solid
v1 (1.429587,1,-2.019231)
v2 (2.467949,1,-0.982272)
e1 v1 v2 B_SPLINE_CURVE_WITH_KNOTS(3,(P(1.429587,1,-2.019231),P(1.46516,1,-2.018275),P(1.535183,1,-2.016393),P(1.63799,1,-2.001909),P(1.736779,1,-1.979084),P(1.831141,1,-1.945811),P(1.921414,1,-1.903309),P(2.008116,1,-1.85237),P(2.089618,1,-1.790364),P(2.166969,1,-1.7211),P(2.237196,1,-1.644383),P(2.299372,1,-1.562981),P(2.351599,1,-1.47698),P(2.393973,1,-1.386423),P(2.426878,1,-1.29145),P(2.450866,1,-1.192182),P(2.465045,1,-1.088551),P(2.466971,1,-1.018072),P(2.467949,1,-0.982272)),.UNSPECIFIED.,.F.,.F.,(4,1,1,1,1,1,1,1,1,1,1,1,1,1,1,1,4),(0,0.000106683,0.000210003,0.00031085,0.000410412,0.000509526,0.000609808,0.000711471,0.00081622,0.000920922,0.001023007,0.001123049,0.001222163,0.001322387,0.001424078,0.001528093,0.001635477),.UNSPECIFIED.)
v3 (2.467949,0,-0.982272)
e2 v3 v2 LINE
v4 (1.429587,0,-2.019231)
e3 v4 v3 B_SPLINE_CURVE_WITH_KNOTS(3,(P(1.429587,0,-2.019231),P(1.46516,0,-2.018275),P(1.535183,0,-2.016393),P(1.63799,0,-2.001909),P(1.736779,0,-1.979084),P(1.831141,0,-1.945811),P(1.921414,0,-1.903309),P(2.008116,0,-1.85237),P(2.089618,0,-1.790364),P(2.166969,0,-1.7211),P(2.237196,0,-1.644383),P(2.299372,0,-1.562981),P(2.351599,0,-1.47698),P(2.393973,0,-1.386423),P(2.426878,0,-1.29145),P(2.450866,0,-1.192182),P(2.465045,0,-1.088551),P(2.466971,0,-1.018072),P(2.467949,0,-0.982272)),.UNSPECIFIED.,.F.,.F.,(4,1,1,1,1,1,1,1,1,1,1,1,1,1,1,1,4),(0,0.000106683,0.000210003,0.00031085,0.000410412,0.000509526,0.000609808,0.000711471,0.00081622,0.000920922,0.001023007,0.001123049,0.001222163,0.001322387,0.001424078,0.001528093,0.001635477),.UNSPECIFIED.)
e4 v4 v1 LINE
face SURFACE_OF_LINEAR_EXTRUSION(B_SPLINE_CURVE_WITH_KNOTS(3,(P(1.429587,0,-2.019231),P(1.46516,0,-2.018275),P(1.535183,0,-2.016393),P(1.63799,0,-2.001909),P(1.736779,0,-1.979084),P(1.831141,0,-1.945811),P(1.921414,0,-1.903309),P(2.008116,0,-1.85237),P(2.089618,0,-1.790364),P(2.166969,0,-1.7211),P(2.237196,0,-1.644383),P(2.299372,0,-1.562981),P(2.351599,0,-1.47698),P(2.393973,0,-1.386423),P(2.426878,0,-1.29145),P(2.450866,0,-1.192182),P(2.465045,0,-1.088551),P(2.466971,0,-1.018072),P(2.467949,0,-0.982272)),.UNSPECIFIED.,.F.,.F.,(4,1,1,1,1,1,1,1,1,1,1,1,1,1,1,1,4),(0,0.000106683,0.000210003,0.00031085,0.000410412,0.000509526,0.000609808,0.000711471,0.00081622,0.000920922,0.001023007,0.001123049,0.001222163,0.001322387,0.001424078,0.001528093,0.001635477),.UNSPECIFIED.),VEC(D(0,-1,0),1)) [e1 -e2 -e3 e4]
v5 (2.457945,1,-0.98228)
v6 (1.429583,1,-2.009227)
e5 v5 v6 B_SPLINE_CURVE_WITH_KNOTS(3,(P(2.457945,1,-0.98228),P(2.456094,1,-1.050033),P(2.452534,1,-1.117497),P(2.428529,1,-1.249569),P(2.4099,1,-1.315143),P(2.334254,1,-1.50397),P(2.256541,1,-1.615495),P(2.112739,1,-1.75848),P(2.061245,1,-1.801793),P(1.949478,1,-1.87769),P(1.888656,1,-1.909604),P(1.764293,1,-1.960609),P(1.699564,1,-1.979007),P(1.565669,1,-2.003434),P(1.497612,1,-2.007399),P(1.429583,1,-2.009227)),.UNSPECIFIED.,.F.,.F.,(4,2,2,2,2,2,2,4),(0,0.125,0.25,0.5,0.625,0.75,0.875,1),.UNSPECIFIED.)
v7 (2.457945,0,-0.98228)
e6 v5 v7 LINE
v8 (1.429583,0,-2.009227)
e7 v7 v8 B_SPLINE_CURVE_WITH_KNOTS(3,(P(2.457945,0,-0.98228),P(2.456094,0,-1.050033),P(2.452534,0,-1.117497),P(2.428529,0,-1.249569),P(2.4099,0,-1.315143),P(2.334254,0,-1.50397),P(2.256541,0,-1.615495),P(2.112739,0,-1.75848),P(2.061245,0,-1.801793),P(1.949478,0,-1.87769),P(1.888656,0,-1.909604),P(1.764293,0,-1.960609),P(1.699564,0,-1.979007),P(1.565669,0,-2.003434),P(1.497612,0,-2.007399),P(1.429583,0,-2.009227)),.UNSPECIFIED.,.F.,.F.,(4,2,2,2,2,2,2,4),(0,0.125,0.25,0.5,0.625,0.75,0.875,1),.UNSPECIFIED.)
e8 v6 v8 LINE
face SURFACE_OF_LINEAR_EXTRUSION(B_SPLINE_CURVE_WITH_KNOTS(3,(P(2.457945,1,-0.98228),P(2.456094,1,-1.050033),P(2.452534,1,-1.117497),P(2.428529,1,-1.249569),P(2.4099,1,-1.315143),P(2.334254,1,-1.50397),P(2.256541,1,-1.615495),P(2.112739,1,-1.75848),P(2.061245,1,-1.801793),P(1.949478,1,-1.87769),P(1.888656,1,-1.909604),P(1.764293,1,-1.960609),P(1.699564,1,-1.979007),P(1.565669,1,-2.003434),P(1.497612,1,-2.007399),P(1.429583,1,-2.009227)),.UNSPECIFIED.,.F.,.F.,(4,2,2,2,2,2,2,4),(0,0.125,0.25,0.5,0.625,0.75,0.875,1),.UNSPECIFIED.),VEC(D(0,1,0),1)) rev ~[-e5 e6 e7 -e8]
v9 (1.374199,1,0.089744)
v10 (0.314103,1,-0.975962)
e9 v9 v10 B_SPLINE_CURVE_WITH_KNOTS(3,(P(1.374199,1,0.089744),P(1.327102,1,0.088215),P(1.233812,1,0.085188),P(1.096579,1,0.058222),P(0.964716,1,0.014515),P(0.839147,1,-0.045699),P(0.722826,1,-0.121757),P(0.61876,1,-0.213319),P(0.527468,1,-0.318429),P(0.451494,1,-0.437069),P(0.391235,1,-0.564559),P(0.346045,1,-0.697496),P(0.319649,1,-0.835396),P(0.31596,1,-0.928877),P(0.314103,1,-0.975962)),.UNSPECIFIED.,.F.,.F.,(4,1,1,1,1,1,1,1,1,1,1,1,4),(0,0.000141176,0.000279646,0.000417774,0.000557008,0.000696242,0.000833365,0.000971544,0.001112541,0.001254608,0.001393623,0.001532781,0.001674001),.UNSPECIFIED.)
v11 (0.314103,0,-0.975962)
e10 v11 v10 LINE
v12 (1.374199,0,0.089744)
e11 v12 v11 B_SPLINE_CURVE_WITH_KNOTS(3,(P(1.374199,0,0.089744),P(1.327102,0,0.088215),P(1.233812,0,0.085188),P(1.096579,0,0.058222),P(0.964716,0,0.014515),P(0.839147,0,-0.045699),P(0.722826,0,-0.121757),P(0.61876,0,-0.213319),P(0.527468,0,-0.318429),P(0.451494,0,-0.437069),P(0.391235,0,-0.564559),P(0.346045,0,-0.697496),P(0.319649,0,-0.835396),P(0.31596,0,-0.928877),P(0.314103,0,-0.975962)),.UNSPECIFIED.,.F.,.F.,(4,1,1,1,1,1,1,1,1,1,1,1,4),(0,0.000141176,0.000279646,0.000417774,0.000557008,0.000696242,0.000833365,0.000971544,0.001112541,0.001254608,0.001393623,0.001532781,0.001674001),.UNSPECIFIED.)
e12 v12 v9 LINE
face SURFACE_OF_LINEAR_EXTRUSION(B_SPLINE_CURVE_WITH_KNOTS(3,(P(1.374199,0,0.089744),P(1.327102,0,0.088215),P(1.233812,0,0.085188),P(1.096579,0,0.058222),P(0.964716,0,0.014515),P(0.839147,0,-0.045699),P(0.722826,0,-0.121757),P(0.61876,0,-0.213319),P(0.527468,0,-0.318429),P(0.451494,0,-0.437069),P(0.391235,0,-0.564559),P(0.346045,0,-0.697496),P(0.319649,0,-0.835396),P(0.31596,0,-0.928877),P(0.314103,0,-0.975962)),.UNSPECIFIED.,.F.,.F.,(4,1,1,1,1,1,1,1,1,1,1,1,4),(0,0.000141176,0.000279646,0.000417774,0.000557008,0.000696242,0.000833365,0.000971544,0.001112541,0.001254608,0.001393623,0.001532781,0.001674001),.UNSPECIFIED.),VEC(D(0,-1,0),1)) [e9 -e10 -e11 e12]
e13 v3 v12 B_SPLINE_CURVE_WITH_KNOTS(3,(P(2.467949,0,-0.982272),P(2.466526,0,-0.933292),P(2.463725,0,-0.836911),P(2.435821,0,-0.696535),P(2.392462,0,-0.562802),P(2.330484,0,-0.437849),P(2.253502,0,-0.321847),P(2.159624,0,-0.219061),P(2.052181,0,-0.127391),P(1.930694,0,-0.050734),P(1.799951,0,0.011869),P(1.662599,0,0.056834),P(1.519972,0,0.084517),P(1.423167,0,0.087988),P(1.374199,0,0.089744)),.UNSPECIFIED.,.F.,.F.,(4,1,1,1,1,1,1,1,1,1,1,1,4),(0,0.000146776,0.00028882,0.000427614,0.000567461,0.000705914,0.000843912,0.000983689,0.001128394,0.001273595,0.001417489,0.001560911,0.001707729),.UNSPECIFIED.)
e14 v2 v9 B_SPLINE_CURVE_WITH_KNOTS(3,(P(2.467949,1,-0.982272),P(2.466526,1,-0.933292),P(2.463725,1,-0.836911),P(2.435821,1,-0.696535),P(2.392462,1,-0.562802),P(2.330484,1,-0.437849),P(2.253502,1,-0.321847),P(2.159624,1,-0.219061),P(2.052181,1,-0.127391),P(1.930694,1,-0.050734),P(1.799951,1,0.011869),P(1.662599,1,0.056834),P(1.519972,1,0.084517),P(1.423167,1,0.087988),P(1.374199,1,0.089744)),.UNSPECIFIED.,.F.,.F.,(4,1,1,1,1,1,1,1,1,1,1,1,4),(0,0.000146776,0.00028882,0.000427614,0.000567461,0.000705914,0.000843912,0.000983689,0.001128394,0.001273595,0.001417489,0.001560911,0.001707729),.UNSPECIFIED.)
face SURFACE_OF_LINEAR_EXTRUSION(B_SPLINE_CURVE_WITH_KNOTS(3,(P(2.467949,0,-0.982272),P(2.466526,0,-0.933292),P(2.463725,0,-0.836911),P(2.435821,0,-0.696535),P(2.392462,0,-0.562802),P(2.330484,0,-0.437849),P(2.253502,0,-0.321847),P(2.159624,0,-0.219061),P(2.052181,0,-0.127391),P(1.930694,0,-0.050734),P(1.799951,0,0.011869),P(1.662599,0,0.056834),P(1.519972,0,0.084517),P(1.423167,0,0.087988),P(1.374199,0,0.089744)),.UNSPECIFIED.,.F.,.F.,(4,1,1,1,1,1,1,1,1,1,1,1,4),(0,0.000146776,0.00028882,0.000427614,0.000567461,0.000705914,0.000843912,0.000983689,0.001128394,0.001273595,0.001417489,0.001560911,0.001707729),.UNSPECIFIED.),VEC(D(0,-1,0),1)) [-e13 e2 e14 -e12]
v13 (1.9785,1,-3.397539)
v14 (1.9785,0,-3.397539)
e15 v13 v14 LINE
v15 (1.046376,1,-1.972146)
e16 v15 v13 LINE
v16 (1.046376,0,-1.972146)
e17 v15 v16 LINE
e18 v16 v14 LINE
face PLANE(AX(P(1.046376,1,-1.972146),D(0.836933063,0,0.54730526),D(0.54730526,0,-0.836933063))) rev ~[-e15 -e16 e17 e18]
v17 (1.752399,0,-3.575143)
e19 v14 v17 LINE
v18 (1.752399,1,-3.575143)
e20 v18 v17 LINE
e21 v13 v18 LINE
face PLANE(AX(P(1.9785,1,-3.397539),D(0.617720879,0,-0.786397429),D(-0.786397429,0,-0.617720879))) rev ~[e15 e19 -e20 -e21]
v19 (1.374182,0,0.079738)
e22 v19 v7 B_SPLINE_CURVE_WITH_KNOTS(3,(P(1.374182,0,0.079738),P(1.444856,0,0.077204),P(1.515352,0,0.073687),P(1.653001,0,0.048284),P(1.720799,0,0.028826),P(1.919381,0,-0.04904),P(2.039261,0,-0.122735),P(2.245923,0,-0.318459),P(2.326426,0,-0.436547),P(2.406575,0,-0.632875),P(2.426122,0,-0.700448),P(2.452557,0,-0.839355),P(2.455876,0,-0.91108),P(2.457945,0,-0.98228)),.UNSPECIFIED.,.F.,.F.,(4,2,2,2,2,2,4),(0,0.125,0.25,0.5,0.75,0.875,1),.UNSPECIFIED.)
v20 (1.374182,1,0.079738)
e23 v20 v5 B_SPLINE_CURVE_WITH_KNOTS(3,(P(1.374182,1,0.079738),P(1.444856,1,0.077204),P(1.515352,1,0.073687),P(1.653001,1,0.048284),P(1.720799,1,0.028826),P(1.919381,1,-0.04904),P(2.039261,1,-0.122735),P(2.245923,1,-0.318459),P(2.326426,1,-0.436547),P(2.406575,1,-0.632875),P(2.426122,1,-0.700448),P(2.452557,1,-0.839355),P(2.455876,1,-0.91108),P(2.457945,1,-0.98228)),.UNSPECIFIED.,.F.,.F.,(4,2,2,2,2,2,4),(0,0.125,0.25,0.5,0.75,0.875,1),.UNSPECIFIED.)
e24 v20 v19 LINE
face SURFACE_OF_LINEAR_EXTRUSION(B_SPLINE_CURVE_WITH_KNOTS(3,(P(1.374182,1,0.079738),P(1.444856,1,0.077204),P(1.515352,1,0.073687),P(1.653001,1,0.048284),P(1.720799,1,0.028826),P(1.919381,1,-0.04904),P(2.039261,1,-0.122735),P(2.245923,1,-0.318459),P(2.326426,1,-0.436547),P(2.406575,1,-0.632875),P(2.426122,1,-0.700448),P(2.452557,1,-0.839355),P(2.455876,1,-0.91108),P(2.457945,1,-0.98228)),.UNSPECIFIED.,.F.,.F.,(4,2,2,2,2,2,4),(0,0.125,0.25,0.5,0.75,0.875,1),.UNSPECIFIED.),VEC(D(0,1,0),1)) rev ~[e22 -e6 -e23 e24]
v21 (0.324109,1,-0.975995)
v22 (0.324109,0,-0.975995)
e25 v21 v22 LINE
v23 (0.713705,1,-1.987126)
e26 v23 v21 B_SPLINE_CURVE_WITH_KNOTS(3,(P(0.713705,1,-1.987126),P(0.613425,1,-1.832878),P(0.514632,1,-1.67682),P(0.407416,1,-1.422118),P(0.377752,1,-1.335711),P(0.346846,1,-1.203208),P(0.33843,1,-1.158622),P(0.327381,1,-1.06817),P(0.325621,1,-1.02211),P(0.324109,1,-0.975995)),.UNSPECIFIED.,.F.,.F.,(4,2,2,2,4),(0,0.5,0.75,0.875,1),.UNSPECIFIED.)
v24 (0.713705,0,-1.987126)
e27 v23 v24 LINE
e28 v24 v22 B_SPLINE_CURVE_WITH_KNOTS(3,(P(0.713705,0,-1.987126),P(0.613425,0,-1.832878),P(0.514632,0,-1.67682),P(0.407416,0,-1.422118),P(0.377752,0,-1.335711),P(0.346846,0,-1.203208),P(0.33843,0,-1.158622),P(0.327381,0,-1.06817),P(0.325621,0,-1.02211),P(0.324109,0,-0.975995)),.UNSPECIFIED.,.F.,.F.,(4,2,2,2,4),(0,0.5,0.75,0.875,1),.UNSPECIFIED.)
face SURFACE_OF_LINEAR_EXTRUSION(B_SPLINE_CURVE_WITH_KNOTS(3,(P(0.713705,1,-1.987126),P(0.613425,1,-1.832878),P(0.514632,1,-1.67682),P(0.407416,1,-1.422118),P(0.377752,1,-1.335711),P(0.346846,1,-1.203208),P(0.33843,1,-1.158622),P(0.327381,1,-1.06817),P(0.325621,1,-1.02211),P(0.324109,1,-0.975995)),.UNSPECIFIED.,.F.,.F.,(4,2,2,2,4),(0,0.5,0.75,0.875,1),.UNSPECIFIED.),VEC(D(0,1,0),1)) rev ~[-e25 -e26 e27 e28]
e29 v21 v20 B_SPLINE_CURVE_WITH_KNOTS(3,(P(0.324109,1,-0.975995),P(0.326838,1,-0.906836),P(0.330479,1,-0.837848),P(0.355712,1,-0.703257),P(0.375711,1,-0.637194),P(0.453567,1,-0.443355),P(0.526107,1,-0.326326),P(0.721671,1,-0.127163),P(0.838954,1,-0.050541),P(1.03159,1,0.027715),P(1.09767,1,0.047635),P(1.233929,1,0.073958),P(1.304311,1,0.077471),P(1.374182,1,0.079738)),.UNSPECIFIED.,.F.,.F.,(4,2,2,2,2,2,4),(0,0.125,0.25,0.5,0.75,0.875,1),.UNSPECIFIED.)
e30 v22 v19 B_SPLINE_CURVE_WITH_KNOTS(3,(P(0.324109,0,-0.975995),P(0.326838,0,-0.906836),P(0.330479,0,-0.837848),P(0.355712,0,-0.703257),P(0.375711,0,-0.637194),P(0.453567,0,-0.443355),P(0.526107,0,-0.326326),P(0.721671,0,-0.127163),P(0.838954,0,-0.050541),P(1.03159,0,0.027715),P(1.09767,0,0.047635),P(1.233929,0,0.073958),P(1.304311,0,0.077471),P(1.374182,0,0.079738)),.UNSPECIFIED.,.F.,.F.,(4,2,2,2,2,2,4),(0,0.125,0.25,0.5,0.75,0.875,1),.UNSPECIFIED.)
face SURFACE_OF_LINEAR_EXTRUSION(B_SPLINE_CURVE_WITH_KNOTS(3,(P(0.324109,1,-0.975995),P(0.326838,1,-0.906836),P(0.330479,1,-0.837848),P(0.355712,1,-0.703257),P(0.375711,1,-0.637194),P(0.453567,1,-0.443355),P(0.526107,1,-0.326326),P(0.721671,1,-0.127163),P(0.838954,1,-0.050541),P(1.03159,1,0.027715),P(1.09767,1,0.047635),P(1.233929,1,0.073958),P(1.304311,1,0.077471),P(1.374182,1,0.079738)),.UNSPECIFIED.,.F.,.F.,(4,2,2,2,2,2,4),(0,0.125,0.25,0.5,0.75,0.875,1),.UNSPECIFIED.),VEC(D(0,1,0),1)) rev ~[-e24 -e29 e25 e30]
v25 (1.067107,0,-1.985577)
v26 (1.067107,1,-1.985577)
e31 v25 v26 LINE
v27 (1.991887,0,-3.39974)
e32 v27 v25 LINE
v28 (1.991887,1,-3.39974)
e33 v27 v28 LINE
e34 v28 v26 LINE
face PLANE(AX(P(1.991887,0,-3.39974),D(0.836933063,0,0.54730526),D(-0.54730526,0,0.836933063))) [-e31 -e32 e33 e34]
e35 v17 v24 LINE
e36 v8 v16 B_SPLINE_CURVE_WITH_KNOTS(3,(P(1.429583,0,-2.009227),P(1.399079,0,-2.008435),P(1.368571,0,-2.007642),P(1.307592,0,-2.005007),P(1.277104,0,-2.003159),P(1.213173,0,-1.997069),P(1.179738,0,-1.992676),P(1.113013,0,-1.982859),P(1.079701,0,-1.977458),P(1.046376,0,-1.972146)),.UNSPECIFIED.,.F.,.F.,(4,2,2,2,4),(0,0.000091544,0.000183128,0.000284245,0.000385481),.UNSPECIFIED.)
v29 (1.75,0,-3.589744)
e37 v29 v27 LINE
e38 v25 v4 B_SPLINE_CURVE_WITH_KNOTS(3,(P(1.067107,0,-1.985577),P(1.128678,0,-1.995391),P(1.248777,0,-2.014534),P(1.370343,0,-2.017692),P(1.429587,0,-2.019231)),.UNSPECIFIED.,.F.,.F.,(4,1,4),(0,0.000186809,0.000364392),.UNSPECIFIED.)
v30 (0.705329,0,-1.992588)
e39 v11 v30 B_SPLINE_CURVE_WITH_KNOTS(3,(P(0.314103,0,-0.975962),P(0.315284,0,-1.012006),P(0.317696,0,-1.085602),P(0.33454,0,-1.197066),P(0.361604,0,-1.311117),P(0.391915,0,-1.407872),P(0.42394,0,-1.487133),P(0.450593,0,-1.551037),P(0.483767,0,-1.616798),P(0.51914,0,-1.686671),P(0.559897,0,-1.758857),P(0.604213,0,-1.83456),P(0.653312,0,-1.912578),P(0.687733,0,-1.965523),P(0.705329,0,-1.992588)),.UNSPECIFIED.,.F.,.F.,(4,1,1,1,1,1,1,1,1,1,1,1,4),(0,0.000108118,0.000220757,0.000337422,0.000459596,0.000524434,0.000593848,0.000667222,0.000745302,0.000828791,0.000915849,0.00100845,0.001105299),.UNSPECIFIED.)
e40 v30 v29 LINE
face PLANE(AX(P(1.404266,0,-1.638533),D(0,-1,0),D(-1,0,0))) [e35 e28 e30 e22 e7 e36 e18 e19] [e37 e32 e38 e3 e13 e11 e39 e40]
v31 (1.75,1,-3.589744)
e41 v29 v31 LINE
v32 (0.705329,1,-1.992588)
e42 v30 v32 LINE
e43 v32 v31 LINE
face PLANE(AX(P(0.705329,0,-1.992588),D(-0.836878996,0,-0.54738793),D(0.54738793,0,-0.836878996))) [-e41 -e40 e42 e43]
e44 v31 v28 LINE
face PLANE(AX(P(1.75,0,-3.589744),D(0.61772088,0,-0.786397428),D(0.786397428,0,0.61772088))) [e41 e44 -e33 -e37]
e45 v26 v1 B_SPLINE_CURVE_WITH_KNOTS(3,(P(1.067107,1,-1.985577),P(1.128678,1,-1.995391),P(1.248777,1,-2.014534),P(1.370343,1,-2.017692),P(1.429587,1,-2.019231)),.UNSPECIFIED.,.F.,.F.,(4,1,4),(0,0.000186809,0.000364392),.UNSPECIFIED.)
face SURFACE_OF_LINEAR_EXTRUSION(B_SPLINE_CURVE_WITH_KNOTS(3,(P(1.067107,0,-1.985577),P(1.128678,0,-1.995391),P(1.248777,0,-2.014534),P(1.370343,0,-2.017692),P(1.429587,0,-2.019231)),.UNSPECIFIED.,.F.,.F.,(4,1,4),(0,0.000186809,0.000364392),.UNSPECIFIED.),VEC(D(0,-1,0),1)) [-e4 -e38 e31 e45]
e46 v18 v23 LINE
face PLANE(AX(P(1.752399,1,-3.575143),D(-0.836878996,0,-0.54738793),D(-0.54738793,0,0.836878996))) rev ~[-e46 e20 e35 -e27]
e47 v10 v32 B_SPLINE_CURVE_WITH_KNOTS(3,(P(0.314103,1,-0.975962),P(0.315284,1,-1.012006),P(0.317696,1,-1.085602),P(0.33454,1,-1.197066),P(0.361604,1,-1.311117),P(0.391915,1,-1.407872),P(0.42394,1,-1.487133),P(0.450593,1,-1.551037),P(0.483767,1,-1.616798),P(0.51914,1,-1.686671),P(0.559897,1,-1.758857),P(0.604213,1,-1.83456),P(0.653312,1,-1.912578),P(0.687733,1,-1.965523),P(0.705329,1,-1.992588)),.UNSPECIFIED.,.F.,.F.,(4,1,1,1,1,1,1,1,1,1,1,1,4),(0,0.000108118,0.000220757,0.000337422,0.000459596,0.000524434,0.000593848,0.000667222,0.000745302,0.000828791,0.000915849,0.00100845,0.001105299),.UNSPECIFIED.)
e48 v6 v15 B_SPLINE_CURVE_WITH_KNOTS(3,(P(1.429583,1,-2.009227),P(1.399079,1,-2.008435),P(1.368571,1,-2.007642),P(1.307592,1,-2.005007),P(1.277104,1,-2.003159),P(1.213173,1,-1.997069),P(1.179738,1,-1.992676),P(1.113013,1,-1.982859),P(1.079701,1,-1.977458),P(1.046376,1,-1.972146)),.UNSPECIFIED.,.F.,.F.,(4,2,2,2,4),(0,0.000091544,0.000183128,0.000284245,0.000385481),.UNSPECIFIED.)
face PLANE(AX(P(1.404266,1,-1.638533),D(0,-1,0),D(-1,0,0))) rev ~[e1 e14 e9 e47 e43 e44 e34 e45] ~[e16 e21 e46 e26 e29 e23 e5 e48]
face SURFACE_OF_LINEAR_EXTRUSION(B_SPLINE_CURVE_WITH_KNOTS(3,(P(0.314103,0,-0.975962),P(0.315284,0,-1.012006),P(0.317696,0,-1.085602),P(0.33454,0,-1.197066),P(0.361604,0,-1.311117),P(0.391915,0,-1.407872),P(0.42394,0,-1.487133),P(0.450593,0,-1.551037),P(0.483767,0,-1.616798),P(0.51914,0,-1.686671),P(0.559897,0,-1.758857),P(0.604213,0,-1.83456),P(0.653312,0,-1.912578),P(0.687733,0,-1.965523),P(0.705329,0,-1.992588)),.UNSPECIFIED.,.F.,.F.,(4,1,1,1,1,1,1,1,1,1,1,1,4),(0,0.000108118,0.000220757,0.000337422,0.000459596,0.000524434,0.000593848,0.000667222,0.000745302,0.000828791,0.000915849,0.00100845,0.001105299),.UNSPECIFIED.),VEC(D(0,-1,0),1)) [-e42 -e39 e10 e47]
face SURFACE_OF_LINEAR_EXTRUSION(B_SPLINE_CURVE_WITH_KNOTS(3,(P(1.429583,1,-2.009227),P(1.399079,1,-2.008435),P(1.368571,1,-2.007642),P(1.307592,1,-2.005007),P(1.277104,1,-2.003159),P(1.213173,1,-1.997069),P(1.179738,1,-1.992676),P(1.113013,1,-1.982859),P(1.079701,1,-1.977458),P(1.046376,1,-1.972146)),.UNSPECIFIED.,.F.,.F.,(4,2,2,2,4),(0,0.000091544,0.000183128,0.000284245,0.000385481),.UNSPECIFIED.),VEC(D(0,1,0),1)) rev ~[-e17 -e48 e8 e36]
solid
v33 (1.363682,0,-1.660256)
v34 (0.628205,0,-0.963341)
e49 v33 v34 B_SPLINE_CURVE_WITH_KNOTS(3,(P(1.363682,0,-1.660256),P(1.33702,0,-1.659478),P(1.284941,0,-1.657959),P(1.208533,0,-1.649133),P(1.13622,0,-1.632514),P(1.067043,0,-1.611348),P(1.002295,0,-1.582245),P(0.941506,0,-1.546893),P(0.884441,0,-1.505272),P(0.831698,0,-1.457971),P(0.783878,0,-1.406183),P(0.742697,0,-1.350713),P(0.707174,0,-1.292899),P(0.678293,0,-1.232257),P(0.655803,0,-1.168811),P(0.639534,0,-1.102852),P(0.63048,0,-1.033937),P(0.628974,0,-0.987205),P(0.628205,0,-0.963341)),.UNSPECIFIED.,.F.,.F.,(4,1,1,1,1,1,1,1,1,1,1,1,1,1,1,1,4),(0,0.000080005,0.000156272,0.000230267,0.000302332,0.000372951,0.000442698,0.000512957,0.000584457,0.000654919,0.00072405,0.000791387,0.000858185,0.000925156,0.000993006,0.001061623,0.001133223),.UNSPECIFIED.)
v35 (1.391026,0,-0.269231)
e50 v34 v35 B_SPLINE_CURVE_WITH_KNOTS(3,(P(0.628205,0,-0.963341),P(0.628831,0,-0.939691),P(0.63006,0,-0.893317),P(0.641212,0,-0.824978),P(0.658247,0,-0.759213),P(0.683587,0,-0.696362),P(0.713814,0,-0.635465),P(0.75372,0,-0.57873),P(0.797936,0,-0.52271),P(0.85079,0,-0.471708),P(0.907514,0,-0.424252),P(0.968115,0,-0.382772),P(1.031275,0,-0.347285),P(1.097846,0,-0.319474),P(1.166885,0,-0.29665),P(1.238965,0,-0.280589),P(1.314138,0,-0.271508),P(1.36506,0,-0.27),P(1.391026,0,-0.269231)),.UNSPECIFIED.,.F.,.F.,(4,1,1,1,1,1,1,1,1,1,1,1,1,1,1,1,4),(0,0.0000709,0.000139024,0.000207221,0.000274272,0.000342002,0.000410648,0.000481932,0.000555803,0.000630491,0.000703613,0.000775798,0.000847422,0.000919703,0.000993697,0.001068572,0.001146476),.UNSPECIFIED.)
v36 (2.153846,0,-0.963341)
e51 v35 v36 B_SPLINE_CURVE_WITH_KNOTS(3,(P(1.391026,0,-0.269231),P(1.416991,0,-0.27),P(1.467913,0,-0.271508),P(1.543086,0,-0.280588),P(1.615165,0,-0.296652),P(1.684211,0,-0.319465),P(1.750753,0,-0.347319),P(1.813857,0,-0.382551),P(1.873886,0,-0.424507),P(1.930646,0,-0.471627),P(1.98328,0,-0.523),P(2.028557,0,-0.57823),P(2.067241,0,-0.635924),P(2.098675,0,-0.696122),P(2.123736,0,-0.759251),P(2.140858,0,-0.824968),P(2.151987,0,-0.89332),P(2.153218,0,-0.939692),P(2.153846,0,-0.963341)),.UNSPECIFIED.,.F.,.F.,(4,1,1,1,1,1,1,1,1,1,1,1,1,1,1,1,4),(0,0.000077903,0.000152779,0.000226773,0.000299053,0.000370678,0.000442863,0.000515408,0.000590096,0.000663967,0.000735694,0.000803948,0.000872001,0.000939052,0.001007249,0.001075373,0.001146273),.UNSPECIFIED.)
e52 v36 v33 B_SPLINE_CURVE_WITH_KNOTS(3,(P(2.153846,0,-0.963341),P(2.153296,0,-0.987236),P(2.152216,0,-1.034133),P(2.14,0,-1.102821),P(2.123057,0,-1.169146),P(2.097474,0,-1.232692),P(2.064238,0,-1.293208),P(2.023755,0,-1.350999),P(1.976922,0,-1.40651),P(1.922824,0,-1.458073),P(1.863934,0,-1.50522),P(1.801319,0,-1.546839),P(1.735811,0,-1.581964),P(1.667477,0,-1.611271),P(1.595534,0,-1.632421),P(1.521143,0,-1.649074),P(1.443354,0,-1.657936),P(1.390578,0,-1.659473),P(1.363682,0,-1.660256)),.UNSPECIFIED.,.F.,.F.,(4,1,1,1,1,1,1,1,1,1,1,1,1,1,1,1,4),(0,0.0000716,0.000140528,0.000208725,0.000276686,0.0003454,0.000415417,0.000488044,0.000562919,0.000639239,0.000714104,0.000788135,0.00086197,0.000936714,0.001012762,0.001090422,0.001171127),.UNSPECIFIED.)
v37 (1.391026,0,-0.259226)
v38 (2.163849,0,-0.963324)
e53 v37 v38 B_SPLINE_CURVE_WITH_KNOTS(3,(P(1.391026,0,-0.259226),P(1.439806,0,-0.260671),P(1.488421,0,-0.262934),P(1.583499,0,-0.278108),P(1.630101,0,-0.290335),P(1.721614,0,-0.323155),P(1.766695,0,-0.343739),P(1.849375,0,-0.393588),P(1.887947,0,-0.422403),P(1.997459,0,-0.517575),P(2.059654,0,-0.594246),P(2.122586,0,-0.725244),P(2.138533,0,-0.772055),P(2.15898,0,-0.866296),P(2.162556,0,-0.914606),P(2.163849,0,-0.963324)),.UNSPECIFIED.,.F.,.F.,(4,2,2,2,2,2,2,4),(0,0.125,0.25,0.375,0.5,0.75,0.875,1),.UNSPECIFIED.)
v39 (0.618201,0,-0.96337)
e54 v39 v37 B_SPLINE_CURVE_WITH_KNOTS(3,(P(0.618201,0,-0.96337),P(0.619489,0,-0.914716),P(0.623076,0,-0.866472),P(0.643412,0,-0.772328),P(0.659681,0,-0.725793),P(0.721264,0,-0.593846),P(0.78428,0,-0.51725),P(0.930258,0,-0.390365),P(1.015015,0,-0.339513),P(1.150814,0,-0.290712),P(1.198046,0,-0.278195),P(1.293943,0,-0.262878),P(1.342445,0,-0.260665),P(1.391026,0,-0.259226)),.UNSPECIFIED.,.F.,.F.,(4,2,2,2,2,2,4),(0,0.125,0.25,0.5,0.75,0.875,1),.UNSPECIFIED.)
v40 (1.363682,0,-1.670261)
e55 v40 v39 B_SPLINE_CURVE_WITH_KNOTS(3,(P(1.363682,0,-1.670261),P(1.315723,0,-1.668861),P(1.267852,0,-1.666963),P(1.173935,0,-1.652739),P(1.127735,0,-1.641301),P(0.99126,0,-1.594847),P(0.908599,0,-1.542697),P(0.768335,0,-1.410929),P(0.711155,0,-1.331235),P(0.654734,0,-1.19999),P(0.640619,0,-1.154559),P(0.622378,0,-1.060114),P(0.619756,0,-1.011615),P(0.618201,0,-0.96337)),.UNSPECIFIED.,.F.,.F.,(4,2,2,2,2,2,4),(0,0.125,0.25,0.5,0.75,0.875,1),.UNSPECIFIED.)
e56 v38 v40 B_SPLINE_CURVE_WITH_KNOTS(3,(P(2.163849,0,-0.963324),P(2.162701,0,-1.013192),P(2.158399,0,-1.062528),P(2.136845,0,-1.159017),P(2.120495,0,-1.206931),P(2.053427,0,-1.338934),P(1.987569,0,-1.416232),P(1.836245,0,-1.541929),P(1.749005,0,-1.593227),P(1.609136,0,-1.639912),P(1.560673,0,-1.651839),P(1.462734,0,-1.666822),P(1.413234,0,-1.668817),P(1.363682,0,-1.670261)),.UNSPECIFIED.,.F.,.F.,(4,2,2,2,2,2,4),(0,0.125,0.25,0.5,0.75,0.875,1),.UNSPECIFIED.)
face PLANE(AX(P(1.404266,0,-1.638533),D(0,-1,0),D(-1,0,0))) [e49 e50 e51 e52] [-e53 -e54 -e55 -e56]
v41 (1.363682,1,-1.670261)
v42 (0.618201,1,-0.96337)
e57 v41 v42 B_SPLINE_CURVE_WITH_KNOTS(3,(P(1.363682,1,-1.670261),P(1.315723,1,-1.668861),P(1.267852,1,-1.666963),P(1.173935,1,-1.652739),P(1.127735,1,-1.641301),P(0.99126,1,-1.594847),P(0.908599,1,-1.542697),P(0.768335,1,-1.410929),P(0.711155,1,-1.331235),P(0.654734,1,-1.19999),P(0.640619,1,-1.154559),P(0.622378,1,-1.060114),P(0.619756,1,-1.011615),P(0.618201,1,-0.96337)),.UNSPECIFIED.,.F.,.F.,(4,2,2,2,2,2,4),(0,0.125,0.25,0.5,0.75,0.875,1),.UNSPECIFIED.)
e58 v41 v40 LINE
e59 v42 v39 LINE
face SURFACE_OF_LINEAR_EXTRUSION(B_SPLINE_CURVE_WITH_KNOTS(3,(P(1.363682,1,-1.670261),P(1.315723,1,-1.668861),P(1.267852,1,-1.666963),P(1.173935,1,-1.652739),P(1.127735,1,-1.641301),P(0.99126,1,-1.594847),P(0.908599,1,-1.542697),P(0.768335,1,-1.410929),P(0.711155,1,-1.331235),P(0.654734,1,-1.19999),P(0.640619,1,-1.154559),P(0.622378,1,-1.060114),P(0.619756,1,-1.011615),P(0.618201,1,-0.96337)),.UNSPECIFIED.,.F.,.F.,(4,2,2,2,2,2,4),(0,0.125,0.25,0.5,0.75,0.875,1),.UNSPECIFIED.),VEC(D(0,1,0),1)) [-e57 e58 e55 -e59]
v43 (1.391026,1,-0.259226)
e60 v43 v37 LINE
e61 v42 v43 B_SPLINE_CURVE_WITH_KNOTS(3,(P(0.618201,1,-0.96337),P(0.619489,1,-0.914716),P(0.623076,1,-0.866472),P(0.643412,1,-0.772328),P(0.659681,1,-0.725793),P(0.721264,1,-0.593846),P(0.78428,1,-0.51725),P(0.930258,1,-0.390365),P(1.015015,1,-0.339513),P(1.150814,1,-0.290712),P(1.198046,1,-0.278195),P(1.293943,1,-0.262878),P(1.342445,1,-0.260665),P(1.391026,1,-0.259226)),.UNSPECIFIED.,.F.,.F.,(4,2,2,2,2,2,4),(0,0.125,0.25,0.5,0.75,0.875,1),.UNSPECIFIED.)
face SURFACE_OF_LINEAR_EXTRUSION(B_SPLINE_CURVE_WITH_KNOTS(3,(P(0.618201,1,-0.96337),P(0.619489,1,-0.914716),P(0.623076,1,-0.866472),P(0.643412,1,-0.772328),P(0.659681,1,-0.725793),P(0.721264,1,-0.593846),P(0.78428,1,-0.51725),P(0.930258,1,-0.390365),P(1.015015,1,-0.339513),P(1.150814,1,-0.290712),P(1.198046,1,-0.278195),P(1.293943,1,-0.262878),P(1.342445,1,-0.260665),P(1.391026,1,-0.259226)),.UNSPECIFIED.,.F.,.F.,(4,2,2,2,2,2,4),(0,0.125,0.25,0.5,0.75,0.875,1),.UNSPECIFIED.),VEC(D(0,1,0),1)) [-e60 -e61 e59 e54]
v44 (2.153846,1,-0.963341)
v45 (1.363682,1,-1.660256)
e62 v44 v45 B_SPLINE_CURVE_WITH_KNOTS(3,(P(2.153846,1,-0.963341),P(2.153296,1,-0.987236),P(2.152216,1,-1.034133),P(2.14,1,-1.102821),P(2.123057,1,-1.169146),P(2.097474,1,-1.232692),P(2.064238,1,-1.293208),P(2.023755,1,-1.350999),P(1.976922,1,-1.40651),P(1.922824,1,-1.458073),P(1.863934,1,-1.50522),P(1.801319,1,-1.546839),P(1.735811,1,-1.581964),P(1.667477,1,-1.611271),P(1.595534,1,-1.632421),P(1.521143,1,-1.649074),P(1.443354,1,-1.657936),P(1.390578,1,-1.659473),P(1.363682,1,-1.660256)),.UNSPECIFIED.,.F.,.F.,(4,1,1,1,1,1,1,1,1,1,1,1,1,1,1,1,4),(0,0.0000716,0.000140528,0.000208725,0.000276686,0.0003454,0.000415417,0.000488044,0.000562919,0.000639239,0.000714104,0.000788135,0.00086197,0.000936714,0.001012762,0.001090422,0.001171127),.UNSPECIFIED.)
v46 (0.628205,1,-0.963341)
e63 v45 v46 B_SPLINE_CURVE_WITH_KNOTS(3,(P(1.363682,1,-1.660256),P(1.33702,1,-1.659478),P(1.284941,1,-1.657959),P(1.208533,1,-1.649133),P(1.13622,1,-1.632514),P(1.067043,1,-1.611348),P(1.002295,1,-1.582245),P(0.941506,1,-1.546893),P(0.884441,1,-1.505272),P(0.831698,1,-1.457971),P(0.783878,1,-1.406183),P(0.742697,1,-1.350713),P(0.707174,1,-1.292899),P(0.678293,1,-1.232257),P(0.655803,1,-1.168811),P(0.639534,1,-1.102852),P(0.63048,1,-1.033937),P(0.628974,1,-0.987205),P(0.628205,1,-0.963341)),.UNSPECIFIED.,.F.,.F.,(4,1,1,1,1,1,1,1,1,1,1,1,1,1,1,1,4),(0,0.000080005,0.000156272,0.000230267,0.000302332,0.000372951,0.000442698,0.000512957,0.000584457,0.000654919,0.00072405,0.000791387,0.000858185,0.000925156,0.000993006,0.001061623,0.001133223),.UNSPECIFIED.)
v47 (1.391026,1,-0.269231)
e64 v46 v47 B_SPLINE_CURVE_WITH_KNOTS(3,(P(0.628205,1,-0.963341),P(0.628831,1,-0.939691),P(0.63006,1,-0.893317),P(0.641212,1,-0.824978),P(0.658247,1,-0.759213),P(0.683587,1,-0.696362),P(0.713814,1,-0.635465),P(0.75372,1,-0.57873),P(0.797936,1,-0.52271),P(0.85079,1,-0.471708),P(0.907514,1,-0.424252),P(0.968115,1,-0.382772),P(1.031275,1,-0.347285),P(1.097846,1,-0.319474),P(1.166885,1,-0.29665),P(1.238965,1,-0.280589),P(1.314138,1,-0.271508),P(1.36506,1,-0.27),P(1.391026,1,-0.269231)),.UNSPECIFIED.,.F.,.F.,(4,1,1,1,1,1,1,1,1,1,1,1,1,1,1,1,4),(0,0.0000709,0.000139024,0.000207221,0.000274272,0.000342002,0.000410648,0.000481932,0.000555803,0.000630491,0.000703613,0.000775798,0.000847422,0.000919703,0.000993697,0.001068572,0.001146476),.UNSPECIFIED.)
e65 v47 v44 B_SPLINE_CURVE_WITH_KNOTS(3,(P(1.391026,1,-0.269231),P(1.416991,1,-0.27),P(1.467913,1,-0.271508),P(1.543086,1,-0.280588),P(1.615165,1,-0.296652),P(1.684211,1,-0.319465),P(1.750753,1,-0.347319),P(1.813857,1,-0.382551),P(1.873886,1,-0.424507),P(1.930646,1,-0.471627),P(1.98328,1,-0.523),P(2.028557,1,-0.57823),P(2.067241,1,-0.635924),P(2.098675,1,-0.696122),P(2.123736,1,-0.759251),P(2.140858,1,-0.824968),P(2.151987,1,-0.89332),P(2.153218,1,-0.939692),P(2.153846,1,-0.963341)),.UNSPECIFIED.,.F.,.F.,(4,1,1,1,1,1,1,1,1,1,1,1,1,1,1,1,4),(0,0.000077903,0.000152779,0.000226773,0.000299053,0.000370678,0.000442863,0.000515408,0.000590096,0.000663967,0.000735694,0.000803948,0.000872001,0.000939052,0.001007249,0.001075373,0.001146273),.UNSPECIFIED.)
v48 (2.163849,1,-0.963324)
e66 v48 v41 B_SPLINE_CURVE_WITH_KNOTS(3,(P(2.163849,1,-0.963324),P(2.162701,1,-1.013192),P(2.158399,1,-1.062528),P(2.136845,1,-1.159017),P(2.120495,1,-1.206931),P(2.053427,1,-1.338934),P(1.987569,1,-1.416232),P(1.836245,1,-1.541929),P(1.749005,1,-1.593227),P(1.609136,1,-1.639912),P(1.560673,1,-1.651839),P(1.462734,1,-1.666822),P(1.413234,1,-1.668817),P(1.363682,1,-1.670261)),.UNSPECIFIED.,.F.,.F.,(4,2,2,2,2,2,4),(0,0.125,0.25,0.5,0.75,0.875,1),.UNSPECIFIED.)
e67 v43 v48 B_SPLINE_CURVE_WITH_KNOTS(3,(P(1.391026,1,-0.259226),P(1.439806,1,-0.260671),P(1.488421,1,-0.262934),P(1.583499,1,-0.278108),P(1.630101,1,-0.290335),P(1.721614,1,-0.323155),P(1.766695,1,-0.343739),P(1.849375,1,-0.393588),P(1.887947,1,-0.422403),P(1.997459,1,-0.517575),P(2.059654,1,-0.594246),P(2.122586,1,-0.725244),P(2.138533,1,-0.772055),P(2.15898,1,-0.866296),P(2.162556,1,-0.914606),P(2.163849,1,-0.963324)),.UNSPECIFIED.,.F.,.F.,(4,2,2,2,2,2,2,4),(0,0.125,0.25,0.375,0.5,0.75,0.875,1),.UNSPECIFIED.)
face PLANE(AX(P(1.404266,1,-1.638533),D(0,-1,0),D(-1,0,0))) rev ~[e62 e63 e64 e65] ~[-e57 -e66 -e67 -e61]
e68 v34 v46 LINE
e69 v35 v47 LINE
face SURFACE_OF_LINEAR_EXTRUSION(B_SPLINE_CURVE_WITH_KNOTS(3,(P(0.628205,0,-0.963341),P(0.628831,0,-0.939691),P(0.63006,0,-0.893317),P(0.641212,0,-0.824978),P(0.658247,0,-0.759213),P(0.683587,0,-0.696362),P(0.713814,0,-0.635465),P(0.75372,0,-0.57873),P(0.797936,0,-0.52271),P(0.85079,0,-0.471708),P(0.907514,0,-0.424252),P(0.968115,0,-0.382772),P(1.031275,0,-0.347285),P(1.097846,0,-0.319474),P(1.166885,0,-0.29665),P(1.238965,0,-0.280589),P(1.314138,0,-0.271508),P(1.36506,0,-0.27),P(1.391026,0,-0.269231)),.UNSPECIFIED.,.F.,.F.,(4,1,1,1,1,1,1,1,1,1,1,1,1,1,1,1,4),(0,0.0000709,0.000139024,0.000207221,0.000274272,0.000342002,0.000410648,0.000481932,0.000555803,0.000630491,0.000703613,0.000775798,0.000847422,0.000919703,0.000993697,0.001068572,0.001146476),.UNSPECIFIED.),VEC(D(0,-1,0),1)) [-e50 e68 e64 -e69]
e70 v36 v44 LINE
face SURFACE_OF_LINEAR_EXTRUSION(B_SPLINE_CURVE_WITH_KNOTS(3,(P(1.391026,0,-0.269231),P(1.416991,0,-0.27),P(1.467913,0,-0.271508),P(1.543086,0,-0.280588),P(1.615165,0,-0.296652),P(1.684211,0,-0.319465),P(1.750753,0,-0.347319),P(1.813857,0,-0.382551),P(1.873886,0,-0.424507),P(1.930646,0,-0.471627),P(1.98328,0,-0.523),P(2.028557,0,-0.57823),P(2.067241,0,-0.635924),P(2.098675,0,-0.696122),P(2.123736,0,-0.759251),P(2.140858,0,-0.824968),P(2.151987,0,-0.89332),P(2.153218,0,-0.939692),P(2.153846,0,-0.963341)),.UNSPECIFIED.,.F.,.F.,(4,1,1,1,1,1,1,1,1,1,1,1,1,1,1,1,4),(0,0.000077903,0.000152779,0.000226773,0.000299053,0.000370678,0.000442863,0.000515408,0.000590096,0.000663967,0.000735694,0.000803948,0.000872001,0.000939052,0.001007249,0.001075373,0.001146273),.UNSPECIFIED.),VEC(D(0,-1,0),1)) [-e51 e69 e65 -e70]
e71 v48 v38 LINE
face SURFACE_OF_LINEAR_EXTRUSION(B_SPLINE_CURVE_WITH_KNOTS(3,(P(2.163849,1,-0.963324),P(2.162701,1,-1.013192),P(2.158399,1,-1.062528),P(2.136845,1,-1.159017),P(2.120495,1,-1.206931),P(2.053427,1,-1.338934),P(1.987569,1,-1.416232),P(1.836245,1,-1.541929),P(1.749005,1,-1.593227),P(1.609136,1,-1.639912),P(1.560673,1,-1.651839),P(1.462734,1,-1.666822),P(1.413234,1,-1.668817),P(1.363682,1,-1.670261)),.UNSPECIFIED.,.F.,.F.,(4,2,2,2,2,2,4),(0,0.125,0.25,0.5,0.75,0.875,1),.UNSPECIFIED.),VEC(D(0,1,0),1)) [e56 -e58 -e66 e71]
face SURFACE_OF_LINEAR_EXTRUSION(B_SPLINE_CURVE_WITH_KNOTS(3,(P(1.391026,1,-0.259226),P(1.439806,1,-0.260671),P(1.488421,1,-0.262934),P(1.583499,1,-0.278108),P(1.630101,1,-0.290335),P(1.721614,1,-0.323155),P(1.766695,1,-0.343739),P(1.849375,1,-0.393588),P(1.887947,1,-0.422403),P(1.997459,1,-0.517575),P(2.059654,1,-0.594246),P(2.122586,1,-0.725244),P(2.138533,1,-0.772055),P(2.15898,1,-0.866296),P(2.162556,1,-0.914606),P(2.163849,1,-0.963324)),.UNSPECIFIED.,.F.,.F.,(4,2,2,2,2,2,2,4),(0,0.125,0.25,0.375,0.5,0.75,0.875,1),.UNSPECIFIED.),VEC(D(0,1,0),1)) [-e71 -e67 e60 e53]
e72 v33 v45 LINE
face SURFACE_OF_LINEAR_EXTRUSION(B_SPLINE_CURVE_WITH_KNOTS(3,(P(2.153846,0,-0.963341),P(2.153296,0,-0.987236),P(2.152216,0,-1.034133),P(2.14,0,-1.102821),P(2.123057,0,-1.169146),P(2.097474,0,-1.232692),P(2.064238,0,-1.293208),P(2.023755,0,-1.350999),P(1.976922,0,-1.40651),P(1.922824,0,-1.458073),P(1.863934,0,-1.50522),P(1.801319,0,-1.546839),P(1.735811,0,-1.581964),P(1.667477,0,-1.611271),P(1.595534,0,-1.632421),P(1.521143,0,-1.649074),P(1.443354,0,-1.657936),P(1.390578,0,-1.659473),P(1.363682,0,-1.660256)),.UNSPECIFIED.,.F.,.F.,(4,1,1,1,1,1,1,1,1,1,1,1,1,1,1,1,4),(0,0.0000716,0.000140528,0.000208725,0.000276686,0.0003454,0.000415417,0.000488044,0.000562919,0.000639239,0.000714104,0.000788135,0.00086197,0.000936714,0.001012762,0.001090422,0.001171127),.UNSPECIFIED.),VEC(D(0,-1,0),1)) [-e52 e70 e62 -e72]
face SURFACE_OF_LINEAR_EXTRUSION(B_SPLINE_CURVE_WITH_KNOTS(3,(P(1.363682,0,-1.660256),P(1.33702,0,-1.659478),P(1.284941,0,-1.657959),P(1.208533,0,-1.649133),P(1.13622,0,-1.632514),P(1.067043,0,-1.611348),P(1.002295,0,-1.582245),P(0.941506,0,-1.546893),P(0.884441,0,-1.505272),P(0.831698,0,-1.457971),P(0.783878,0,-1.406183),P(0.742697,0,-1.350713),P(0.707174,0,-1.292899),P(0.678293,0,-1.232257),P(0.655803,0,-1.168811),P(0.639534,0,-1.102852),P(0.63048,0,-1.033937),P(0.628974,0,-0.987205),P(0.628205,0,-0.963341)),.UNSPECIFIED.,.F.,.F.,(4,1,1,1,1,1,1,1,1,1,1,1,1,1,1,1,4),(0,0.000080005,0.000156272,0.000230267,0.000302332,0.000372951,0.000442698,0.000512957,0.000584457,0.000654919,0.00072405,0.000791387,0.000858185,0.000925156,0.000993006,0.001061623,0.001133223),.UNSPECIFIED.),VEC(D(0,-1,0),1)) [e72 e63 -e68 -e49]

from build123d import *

# Parameters (mm, degrees)
BOSS_EXTRUDE1_DEPTH = 1
CUT_EXTRUDE1_DEPTH  = 1


with BuildPart() as part:
    # Sketch1 → Boss-Extrude1 (new body)
    with BuildSketch(Plane(origin=(0, 0, 0), x_dir=(1, 0, 0), z_dir=(0, 1, 0))):
        with BuildLine():
            Line((1.75, 3.58974359), (1.991887019, 3.399739583))
            Line((1.991887019, 3.399739583), (1.067107372, 1.985576923))
            add(Edge.make_bspline(
                [(1.067107372, 1.985576923), (1.128677649, 1.995390784), (1.248777436, 2.014533829), (1.370343334, 2.017691774), (1.42958734, 2.019230769)],
                knots=[0, 0, 0, 0, 0.000186809, 0.000364392, 0.000364392, 0.000364392, 0.000364392], degree=3))
            add(Edge.make_bspline(
                [(1.42958734, 2.019230769), (1.465159836, 2.018274658), (1.535183237, 2.01639258), (1.637990039, 2.001908729), (1.736778975, 1.979083617), (1.831140587, 1.945811362), (1.921413569, 1.903309007), (2.008115965, 1.852370137), (2.089617975, 1.790364457), (2.166969154, 1.721099501), (2.237196252, 1.644382516), (2.299372307, 1.56298118), (2.351599099, 1.476980299), (2.393973021, 1.386423433), (2.426877899, 1.291450173), (2.450865544, 1.192182034), (2.465045137, 1.088550562), (2.466970628, 1.018072387), (2.467948718, 0.982271635)],
                knots=[0, 0, 0, 0, 0.000106683, 0.000210003, 0.00031085, 0.000410412, 0.000509526, 0.000609808, 0.000711471, 0.00081622, 0.000920922, 0.001023007, 0.001123049, 0.001222163, 0.001322387, 0.001424078, 0.001528093, 0.001635477, 0.001635477, 0.001635477, 0.001635477], degree=3))
            add(Edge.make_bspline(
                [(2.467948718, 0.982271635), (2.466525613, 0.933291931), (2.463725279, 0.836911465), (2.435821483, 0.696534758), (2.392461839, 0.562802243), (2.33048431, 0.437849071), (2.253501927, 0.321846502), (2.159624335, 0.219061036), (2.052180846, 0.127390999), (1.930694048, 0.05073438), (1.799951084, -0.011868671), (1.662599087, -0.056833913), (1.51997194, -0.084517383), (1.423167332, -0.087987985), (1.374198718, -0.08974359)],
                knots=[0, 0, 0, 0, 0.000146776, 0.00028882, 0.000427614, 0.000567461, 0.000705914, 0.000843912, 0.000983689, 0.001128394, 0.001273595, 0.001417489, 0.001560911, 0.001707729, 0.001707729, 0.001707729, 0.001707729], degree=3))
            add(Edge.make_bspline(
                [(1.374198718, -0.08974359), (1.327102017, -0.088215384), (1.233811699, -0.085188276), (1.096578905, -0.058222338), (0.964715888, -0.014515235), (0.839146507, 0.045699043), (0.722825894, 0.121756926), (0.618760257, 0.213319205), (0.527468483, 0.31842867), (0.451493862, 0.437069018), (0.39123513, 0.564558975), (0.346045205, 0.697496132), (0.319648962, 0.835396113), (0.315960405, 0.928877252), (0.314102564, 0.975961538)],
                knots=[0, 0, 0, 0, 0.000141176, 0.000279646, 0.000417774, 0.000557008, 0.000696242, 0.000833365, 0.000971544, 0.001112541, 0.001254608, 0.001393623, 0.001532781, 0.001674001, 0.001674001, 0.001674001, 0.001674001], degree=3))
            add(Edge.make_bspline(
                [(0.314102564, 0.975961538), (0.315284009, 1.012006122), (0.317696294, 1.085602274), (0.334539684, 1.197066302), (0.361604479, 1.311117383), (0.391914726, 1.407871577), (0.423940336, 1.487133099), (0.450592875, 1.55103659), (0.483766871, 1.616797663), (0.519140252, 1.686671299), (0.559897121, 1.758856731), (0.604212771, 1.834560401), (0.653312422, 1.912578329), (0.687732584, 1.965522524), (0.705328526, 1.992588141)],
                knots=[0, 0, 0, 0, 0.000108118, 0.000220757, 0.000337422, 0.000459596, 0.000524434, 0.000593848, 0.000667222, 0.000745302, 0.000828791, 0.000915849, 0.00100845, 0.001105299, 0.001105299, 0.001105299, 0.001105299], degree=3))
            Line((0.705328526, 1.992588141), (1.75, 3.58974359))
        make_face()
        with BuildLine():
            add(Edge.make_bspline(
                [(1.363681891, 1.66025641), (1.337019646, 1.659478367), (1.284940537, 1.657958621), (1.208533122, 1.649133369), (1.136219871, 1.632514304), (1.067042737, 1.611347972), (1.002295034, 1.582244912), (0.941506194, 1.546893113), (0.884441142, 1.505271935), (0.831697591, 1.457971024), (0.783877927, 1.406182991), (0.742696796, 1.350713469), (0.707174396, 1.292899266), (0.678292578, 1.232257323), (0.655802502, 1.168810824), (0.639534251, 1.102851574), (0.6304805, 1.033937268), (0.628974268, 0.987204766), (0.628205128, 0.963341346)],
                knots=[0, 0, 0, 0, 8.0005e-05, 0.000156272, 0.000230267, 0.000302332, 0.000372951, 0.000442698, 0.000512957, 0.000584457, 0.000654919, 0.00072405, 0.000791387, 0.000858185, 0.000925156, 0.000993006, 0.001061623, 0.001133223, 0.001133223, 0.001133223, 0.001133223], degree=3))
            add(Edge.make_bspline(
                [(0.628205128, 0.963341346), (0.62883149, 0.939691366), (0.630059691, 0.893317277), (0.641212011, 0.824978097), (0.658247093, 0.759213189), (0.683587489, 0.69636159), (0.713814378, 0.635465272), (0.753719702, 0.578729986), (0.797936488, 0.522709916), (0.850790421, 0.471708445), (0.907513784, 0.424251821), (0.968114986, 0.382771567), (1.031274946, 0.347285394), (1.097846368, 0.319474296), (1.166884752, 0.296650009), (1.238965306, 0.28058853), (1.314138162, 0.271508004), (1.3650601, 0.26999981), (1.391025641, 0.269230769)],
                knots=[0, 0, 0, 0, 7.09e-05, 0.000139024, 0.000207221, 0.000274272, 0.000342002, 0.000410648, 0.000481932, 0.000555803, 0.000630491, 0.000703613, 0.000775798, 0.000847422, 0.000919703, 0.000993697, 0.001068572, 0.001146476, 0.001146476, 0.001146476, 0.001146476], degree=3))
            add(Edge.make_bspline(
                [(1.391025641, 0.269230769), (1.41699114, 0.269999871), (1.467912994, 0.271508182), (1.543086454, 0.280587851), (1.615164773, 0.296652499), (1.684211282, 0.31946527), (1.750752713, 0.347318879), (1.813857434, 0.382550799), (1.873885528, 0.424506917), (1.930646127, 0.471627345), (1.983280066, 0.523000197), (2.028557344, 0.578229919), (2.067240578, 0.635923815), (2.098674765, 0.696121704), (2.123736056, 0.759251192), (2.140857523, 0.824967916), (2.151986812, 0.893319942), (2.153218178, 0.939692266), (2.153846154, 0.963341346)],
                knots=[0, 0, 0, 0, 7.7903e-05, 0.000152779, 0.000226773, 0.000299053, 0.000370678, 0.000442863, 0.000515408, 0.000590096, 0.000663967, 0.000735694, 0.000803948, 0.000872001, 0.000939052, 0.001007249, 0.001075373, 0.001146273, 0.001146273, 0.001146273, 0.001146273], degree=3))
            add(Edge.make_bspline(
                [(2.153846154, 0.963341346), (2.153295861, 0.987235897), (2.152215815, 1.03413313), (2.139999866, 1.102820748), (2.123057492, 1.169145954), (2.097474462, 1.232691903), (2.064237917, 1.29320783), (2.02375451, 1.350999431), (1.976921939, 1.406509779), (1.9228244, 1.458072587), (1.863934166, 1.505219665), (1.801318581, 1.546839221), (1.735810607, 1.581964198), (1.667476664, 1.6112713), (1.595533782, 1.632420774), (1.521143443, 1.649074017), (1.4433542, 1.657936035), (1.390577592, 1.6594731), (1.363681891, 1.66025641)],
                knots=[0, 0, 0, 0, 7.16e-05, 0.000140528, 0.000208725, 0.000276686, 0.0003454, 0.000415417, 0.000488044, 0.000562919, 0.000639239, 0.000714104, 0.000788135, 0.00086197, 0.000936714, 0.001012762, 0.001090422, 0.001171127, 0.001171127, 0.001171127, 0.001171127], degree=3))
        make_face(mode=Mode.SUBTRACT)
    extrude(amount=BOSS_EXTRUDE1_DEPTH)

    # Sketch2 → Cut-Extrude1 (cut)
    with BuildSketch(Plane(origin=(0, 1, 0), x_dir=(1, 0, 0), z_dir=(0, 1, 0))):
        with BuildLine():
            Line((1.752399086, 3.575142874), (0.713704922, 1.987125891))
            add(Edge.make_bspline(
                [(0.713704922, 1.987125891), (0.613425143, 1.832878155), (0.514631885, 1.676819902), (0.407415778, 1.422117536), (0.377751623, 1.335710812), (0.346846368, 1.203207544), (0.338430115, 1.158622086), (0.327380824, 1.068169992), (0.325620587, 1.022110001), (0.324109029, 0.975994918)],
                knots=[0, 0, 0, 0, 0.5, 0.5, 0.75, 0.75, 0.875, 0.875, 1, 1, 1, 1], degree=3))
            add(Edge.make_bspline(
                [(0.324109029, 0.975994918), (0.326837937, 0.906835533), (0.330478854, 0.837848066), (0.355711549, 0.703256987), (0.375711174, 0.63719383), (0.453567064, 0.443355244), (0.52610732, 0.326325844), (0.721671106, 0.12716323), (0.838953866, 0.050541008), (1.031589506, -0.027714776), (1.097670218, -0.047635062), (1.233929294, -0.073958129), (1.304311324, -0.077470569), (1.374181711, -0.079737775)],
                knots=[0, 0, 0, 0, 0.125, 0.125, 0.25, 0.25, 0.5, 0.5, 0.75, 0.75, 0.875, 0.875, 1, 1, 1, 1], degree=3))
            add(Edge.make_bspline(
                [(1.374181711, -0.079737775), (1.444856478, -0.077203939), (1.515352362, -0.073687267), (1.653000612, -0.048283654), (1.720799138, -0.028825857), (1.919381181, 0.049039815), (2.039261006, 0.122734955), (2.245922983, 0.318459442), (2.326425948, 0.436546935), (2.406575448, 0.632875125), (2.426121789, 0.700448161), (2.452557007, 0.839354854), (2.455876016, 0.91108044), (2.45794475, 0.982280304)],
                knots=[0, 0, 0, 0, 0.125, 0.125, 0.25, 0.25, 0.5, 0.5, 0.75, 0.75, 0.875, 0.875, 1, 1, 1, 1], degree=3))
            add(Edge.make_bspline(
                [(2.45794475, 0.982280304), (2.456093691, 1.050033131), (2.452534146, 1.117497043), (2.428528934, 1.24956933), (2.40990041, 1.315143272), (2.334253841, 1.503970367), (2.256541009, 1.615494688), (2.112738626, 1.758480193), (2.061245449, 1.801793205), (1.949478126, 1.877689709), (1.888655774, 1.909603996), (1.76429285, 1.960608852), (1.699563645, 1.979007129), (1.565668993, 2.003433622), (1.497611682, 2.007398787), (1.429582838, 2.009227279)],
                knots=[0, 0, 0, 0, 0.125, 0.125, 0.25, 0.25, 0.5, 0.5, 0.625, 0.625, 0.75, 0.75, 0.875, 0.875, 1, 1, 1, 1], degree=3))
            add(Edge.make_bspline(
                [(1.429582838, 2.009227279), (1.399078585, 2.008434858), (1.368571343, 2.007641674), (1.307591553, 2.005006801), (1.277104184, 2.003158597), (1.213172773, 1.997069447), (1.179738406, 1.992676283), (1.113012867, 1.982859491), (1.079700675, 1.977457972), (1.046376129, 1.972146278)],
                knots=[0, 0, 0, 0, 9.1544e-05, 9.1544e-05, 0.000183128, 0.000183128, 0.000284245, 0.000284245, 0.000385481, 0.000385481, 0.000385481, 0.000385481], degree=3))
            Line((1.046376129, 1.972146278), (1.978499708, 3.397539197))
            Line((1.978499708, 3.397539197), (1.752399086, 3.575142874))
        make_face()
        with BuildLine():
            add(Edge.make_bspline(
                [(0.618200861, 0.963370065), (0.619489439, 0.914716284), (0.623076246, 0.866471918), (0.643412028, 0.772327939), (0.659680702, 0.725792757), (0.721264037, 0.593846029), (0.784280071, 0.517250476), (0.930257515, 0.39036451), (1.015015297, 0.339513262), (1.150814272, 0.290711998), (1.198046211, 0.278194663), (1.293942933, 0.26287819), (1.34244494, 0.260665236), (1.391025653, 0.259226384)],
                knots=[0, 0, 0, 0, 0.125, 0.125, 0.25, 0.25, 0.5, 0.5, 0.75, 0.75, 0.875, 0.875, 1, 1, 1, 1], degree=3))
            add(Edge.make_bspline(
                [(1.391025653, 0.259226384), (1.43980601, 0.260671264), (1.488421162, 0.262933678), (1.583499434, 0.278108135), (1.630101106, 0.29033453), (1.721613544, 0.323154997), (1.766695284, 0.343738856), (1.849374734, 0.39358807), (1.88794735, 0.422403392), (1.997459319, 0.51757518), (2.059654132, 0.594246302), (2.122585885, 0.725243916), (2.13853311, 0.772054847), (2.158979567, 0.866296287), (2.162555563, 0.914605904), (2.163849211, 0.963323732)],
                knots=[0, 0, 0, 0, 0.125, 0.125, 0.25, 0.25, 0.375, 0.375, 0.5, 0.5, 0.75, 0.75, 0.875, 0.875, 1, 1, 1, 1], degree=3))
            add(Edge.make_bspline(
                [(2.163849211, 0.963323732), (2.162700748, 1.01319175), (2.158399366, 1.062528155), (2.136845478, 1.159017284), (2.1204952, 1.206931223), (2.053426709, 1.338933605), (1.987569492, 1.416231793), (1.836244751, 1.541928542), (1.749004751, 1.593227323), (1.609135896, 1.639912362), (1.560672931, 1.651838628), (1.462733794, 1.666822095), (1.413234319, 1.668817486), (1.363681604, 1.670260659)],
                knots=[0, 0, 0, 0, 0.125, 0.125, 0.25, 0.25, 0.5, 0.5, 0.75, 0.75, 0.875, 0.875, 1, 1, 1, 1], degree=3))
            add(Edge.make_bspline(
                [(1.363681604, 1.670260659), (1.315723013, 1.668861156), (1.267851811, 1.666962674), (1.173935486, 1.652738983), (1.127735015, 1.641300796), (0.991259638, 1.594846782), (0.908598911, 1.54269672), (0.768334766, 1.410929019), (0.711155485, 1.331235398), (0.654734266, 1.199989987), (0.640619096, 1.154558898), (0.622378007, 1.060114356), (0.619755856, 1.011615494), (0.618200861, 0.963370065)],
                knots=[0, 0, 0, 0, 0.125, 0.125, 0.25, 0.25, 0.5, 0.5, 0.75, 0.75, 0.875, 0.875, 1, 1, 1, 1], degree=3))
        make_face(mode=Mode.SUBTRACT)
    extrude(amount=-CUT_EXTRUDE1_DEPTH, mode=Mode.SUBTRACT)


solid = part.part
